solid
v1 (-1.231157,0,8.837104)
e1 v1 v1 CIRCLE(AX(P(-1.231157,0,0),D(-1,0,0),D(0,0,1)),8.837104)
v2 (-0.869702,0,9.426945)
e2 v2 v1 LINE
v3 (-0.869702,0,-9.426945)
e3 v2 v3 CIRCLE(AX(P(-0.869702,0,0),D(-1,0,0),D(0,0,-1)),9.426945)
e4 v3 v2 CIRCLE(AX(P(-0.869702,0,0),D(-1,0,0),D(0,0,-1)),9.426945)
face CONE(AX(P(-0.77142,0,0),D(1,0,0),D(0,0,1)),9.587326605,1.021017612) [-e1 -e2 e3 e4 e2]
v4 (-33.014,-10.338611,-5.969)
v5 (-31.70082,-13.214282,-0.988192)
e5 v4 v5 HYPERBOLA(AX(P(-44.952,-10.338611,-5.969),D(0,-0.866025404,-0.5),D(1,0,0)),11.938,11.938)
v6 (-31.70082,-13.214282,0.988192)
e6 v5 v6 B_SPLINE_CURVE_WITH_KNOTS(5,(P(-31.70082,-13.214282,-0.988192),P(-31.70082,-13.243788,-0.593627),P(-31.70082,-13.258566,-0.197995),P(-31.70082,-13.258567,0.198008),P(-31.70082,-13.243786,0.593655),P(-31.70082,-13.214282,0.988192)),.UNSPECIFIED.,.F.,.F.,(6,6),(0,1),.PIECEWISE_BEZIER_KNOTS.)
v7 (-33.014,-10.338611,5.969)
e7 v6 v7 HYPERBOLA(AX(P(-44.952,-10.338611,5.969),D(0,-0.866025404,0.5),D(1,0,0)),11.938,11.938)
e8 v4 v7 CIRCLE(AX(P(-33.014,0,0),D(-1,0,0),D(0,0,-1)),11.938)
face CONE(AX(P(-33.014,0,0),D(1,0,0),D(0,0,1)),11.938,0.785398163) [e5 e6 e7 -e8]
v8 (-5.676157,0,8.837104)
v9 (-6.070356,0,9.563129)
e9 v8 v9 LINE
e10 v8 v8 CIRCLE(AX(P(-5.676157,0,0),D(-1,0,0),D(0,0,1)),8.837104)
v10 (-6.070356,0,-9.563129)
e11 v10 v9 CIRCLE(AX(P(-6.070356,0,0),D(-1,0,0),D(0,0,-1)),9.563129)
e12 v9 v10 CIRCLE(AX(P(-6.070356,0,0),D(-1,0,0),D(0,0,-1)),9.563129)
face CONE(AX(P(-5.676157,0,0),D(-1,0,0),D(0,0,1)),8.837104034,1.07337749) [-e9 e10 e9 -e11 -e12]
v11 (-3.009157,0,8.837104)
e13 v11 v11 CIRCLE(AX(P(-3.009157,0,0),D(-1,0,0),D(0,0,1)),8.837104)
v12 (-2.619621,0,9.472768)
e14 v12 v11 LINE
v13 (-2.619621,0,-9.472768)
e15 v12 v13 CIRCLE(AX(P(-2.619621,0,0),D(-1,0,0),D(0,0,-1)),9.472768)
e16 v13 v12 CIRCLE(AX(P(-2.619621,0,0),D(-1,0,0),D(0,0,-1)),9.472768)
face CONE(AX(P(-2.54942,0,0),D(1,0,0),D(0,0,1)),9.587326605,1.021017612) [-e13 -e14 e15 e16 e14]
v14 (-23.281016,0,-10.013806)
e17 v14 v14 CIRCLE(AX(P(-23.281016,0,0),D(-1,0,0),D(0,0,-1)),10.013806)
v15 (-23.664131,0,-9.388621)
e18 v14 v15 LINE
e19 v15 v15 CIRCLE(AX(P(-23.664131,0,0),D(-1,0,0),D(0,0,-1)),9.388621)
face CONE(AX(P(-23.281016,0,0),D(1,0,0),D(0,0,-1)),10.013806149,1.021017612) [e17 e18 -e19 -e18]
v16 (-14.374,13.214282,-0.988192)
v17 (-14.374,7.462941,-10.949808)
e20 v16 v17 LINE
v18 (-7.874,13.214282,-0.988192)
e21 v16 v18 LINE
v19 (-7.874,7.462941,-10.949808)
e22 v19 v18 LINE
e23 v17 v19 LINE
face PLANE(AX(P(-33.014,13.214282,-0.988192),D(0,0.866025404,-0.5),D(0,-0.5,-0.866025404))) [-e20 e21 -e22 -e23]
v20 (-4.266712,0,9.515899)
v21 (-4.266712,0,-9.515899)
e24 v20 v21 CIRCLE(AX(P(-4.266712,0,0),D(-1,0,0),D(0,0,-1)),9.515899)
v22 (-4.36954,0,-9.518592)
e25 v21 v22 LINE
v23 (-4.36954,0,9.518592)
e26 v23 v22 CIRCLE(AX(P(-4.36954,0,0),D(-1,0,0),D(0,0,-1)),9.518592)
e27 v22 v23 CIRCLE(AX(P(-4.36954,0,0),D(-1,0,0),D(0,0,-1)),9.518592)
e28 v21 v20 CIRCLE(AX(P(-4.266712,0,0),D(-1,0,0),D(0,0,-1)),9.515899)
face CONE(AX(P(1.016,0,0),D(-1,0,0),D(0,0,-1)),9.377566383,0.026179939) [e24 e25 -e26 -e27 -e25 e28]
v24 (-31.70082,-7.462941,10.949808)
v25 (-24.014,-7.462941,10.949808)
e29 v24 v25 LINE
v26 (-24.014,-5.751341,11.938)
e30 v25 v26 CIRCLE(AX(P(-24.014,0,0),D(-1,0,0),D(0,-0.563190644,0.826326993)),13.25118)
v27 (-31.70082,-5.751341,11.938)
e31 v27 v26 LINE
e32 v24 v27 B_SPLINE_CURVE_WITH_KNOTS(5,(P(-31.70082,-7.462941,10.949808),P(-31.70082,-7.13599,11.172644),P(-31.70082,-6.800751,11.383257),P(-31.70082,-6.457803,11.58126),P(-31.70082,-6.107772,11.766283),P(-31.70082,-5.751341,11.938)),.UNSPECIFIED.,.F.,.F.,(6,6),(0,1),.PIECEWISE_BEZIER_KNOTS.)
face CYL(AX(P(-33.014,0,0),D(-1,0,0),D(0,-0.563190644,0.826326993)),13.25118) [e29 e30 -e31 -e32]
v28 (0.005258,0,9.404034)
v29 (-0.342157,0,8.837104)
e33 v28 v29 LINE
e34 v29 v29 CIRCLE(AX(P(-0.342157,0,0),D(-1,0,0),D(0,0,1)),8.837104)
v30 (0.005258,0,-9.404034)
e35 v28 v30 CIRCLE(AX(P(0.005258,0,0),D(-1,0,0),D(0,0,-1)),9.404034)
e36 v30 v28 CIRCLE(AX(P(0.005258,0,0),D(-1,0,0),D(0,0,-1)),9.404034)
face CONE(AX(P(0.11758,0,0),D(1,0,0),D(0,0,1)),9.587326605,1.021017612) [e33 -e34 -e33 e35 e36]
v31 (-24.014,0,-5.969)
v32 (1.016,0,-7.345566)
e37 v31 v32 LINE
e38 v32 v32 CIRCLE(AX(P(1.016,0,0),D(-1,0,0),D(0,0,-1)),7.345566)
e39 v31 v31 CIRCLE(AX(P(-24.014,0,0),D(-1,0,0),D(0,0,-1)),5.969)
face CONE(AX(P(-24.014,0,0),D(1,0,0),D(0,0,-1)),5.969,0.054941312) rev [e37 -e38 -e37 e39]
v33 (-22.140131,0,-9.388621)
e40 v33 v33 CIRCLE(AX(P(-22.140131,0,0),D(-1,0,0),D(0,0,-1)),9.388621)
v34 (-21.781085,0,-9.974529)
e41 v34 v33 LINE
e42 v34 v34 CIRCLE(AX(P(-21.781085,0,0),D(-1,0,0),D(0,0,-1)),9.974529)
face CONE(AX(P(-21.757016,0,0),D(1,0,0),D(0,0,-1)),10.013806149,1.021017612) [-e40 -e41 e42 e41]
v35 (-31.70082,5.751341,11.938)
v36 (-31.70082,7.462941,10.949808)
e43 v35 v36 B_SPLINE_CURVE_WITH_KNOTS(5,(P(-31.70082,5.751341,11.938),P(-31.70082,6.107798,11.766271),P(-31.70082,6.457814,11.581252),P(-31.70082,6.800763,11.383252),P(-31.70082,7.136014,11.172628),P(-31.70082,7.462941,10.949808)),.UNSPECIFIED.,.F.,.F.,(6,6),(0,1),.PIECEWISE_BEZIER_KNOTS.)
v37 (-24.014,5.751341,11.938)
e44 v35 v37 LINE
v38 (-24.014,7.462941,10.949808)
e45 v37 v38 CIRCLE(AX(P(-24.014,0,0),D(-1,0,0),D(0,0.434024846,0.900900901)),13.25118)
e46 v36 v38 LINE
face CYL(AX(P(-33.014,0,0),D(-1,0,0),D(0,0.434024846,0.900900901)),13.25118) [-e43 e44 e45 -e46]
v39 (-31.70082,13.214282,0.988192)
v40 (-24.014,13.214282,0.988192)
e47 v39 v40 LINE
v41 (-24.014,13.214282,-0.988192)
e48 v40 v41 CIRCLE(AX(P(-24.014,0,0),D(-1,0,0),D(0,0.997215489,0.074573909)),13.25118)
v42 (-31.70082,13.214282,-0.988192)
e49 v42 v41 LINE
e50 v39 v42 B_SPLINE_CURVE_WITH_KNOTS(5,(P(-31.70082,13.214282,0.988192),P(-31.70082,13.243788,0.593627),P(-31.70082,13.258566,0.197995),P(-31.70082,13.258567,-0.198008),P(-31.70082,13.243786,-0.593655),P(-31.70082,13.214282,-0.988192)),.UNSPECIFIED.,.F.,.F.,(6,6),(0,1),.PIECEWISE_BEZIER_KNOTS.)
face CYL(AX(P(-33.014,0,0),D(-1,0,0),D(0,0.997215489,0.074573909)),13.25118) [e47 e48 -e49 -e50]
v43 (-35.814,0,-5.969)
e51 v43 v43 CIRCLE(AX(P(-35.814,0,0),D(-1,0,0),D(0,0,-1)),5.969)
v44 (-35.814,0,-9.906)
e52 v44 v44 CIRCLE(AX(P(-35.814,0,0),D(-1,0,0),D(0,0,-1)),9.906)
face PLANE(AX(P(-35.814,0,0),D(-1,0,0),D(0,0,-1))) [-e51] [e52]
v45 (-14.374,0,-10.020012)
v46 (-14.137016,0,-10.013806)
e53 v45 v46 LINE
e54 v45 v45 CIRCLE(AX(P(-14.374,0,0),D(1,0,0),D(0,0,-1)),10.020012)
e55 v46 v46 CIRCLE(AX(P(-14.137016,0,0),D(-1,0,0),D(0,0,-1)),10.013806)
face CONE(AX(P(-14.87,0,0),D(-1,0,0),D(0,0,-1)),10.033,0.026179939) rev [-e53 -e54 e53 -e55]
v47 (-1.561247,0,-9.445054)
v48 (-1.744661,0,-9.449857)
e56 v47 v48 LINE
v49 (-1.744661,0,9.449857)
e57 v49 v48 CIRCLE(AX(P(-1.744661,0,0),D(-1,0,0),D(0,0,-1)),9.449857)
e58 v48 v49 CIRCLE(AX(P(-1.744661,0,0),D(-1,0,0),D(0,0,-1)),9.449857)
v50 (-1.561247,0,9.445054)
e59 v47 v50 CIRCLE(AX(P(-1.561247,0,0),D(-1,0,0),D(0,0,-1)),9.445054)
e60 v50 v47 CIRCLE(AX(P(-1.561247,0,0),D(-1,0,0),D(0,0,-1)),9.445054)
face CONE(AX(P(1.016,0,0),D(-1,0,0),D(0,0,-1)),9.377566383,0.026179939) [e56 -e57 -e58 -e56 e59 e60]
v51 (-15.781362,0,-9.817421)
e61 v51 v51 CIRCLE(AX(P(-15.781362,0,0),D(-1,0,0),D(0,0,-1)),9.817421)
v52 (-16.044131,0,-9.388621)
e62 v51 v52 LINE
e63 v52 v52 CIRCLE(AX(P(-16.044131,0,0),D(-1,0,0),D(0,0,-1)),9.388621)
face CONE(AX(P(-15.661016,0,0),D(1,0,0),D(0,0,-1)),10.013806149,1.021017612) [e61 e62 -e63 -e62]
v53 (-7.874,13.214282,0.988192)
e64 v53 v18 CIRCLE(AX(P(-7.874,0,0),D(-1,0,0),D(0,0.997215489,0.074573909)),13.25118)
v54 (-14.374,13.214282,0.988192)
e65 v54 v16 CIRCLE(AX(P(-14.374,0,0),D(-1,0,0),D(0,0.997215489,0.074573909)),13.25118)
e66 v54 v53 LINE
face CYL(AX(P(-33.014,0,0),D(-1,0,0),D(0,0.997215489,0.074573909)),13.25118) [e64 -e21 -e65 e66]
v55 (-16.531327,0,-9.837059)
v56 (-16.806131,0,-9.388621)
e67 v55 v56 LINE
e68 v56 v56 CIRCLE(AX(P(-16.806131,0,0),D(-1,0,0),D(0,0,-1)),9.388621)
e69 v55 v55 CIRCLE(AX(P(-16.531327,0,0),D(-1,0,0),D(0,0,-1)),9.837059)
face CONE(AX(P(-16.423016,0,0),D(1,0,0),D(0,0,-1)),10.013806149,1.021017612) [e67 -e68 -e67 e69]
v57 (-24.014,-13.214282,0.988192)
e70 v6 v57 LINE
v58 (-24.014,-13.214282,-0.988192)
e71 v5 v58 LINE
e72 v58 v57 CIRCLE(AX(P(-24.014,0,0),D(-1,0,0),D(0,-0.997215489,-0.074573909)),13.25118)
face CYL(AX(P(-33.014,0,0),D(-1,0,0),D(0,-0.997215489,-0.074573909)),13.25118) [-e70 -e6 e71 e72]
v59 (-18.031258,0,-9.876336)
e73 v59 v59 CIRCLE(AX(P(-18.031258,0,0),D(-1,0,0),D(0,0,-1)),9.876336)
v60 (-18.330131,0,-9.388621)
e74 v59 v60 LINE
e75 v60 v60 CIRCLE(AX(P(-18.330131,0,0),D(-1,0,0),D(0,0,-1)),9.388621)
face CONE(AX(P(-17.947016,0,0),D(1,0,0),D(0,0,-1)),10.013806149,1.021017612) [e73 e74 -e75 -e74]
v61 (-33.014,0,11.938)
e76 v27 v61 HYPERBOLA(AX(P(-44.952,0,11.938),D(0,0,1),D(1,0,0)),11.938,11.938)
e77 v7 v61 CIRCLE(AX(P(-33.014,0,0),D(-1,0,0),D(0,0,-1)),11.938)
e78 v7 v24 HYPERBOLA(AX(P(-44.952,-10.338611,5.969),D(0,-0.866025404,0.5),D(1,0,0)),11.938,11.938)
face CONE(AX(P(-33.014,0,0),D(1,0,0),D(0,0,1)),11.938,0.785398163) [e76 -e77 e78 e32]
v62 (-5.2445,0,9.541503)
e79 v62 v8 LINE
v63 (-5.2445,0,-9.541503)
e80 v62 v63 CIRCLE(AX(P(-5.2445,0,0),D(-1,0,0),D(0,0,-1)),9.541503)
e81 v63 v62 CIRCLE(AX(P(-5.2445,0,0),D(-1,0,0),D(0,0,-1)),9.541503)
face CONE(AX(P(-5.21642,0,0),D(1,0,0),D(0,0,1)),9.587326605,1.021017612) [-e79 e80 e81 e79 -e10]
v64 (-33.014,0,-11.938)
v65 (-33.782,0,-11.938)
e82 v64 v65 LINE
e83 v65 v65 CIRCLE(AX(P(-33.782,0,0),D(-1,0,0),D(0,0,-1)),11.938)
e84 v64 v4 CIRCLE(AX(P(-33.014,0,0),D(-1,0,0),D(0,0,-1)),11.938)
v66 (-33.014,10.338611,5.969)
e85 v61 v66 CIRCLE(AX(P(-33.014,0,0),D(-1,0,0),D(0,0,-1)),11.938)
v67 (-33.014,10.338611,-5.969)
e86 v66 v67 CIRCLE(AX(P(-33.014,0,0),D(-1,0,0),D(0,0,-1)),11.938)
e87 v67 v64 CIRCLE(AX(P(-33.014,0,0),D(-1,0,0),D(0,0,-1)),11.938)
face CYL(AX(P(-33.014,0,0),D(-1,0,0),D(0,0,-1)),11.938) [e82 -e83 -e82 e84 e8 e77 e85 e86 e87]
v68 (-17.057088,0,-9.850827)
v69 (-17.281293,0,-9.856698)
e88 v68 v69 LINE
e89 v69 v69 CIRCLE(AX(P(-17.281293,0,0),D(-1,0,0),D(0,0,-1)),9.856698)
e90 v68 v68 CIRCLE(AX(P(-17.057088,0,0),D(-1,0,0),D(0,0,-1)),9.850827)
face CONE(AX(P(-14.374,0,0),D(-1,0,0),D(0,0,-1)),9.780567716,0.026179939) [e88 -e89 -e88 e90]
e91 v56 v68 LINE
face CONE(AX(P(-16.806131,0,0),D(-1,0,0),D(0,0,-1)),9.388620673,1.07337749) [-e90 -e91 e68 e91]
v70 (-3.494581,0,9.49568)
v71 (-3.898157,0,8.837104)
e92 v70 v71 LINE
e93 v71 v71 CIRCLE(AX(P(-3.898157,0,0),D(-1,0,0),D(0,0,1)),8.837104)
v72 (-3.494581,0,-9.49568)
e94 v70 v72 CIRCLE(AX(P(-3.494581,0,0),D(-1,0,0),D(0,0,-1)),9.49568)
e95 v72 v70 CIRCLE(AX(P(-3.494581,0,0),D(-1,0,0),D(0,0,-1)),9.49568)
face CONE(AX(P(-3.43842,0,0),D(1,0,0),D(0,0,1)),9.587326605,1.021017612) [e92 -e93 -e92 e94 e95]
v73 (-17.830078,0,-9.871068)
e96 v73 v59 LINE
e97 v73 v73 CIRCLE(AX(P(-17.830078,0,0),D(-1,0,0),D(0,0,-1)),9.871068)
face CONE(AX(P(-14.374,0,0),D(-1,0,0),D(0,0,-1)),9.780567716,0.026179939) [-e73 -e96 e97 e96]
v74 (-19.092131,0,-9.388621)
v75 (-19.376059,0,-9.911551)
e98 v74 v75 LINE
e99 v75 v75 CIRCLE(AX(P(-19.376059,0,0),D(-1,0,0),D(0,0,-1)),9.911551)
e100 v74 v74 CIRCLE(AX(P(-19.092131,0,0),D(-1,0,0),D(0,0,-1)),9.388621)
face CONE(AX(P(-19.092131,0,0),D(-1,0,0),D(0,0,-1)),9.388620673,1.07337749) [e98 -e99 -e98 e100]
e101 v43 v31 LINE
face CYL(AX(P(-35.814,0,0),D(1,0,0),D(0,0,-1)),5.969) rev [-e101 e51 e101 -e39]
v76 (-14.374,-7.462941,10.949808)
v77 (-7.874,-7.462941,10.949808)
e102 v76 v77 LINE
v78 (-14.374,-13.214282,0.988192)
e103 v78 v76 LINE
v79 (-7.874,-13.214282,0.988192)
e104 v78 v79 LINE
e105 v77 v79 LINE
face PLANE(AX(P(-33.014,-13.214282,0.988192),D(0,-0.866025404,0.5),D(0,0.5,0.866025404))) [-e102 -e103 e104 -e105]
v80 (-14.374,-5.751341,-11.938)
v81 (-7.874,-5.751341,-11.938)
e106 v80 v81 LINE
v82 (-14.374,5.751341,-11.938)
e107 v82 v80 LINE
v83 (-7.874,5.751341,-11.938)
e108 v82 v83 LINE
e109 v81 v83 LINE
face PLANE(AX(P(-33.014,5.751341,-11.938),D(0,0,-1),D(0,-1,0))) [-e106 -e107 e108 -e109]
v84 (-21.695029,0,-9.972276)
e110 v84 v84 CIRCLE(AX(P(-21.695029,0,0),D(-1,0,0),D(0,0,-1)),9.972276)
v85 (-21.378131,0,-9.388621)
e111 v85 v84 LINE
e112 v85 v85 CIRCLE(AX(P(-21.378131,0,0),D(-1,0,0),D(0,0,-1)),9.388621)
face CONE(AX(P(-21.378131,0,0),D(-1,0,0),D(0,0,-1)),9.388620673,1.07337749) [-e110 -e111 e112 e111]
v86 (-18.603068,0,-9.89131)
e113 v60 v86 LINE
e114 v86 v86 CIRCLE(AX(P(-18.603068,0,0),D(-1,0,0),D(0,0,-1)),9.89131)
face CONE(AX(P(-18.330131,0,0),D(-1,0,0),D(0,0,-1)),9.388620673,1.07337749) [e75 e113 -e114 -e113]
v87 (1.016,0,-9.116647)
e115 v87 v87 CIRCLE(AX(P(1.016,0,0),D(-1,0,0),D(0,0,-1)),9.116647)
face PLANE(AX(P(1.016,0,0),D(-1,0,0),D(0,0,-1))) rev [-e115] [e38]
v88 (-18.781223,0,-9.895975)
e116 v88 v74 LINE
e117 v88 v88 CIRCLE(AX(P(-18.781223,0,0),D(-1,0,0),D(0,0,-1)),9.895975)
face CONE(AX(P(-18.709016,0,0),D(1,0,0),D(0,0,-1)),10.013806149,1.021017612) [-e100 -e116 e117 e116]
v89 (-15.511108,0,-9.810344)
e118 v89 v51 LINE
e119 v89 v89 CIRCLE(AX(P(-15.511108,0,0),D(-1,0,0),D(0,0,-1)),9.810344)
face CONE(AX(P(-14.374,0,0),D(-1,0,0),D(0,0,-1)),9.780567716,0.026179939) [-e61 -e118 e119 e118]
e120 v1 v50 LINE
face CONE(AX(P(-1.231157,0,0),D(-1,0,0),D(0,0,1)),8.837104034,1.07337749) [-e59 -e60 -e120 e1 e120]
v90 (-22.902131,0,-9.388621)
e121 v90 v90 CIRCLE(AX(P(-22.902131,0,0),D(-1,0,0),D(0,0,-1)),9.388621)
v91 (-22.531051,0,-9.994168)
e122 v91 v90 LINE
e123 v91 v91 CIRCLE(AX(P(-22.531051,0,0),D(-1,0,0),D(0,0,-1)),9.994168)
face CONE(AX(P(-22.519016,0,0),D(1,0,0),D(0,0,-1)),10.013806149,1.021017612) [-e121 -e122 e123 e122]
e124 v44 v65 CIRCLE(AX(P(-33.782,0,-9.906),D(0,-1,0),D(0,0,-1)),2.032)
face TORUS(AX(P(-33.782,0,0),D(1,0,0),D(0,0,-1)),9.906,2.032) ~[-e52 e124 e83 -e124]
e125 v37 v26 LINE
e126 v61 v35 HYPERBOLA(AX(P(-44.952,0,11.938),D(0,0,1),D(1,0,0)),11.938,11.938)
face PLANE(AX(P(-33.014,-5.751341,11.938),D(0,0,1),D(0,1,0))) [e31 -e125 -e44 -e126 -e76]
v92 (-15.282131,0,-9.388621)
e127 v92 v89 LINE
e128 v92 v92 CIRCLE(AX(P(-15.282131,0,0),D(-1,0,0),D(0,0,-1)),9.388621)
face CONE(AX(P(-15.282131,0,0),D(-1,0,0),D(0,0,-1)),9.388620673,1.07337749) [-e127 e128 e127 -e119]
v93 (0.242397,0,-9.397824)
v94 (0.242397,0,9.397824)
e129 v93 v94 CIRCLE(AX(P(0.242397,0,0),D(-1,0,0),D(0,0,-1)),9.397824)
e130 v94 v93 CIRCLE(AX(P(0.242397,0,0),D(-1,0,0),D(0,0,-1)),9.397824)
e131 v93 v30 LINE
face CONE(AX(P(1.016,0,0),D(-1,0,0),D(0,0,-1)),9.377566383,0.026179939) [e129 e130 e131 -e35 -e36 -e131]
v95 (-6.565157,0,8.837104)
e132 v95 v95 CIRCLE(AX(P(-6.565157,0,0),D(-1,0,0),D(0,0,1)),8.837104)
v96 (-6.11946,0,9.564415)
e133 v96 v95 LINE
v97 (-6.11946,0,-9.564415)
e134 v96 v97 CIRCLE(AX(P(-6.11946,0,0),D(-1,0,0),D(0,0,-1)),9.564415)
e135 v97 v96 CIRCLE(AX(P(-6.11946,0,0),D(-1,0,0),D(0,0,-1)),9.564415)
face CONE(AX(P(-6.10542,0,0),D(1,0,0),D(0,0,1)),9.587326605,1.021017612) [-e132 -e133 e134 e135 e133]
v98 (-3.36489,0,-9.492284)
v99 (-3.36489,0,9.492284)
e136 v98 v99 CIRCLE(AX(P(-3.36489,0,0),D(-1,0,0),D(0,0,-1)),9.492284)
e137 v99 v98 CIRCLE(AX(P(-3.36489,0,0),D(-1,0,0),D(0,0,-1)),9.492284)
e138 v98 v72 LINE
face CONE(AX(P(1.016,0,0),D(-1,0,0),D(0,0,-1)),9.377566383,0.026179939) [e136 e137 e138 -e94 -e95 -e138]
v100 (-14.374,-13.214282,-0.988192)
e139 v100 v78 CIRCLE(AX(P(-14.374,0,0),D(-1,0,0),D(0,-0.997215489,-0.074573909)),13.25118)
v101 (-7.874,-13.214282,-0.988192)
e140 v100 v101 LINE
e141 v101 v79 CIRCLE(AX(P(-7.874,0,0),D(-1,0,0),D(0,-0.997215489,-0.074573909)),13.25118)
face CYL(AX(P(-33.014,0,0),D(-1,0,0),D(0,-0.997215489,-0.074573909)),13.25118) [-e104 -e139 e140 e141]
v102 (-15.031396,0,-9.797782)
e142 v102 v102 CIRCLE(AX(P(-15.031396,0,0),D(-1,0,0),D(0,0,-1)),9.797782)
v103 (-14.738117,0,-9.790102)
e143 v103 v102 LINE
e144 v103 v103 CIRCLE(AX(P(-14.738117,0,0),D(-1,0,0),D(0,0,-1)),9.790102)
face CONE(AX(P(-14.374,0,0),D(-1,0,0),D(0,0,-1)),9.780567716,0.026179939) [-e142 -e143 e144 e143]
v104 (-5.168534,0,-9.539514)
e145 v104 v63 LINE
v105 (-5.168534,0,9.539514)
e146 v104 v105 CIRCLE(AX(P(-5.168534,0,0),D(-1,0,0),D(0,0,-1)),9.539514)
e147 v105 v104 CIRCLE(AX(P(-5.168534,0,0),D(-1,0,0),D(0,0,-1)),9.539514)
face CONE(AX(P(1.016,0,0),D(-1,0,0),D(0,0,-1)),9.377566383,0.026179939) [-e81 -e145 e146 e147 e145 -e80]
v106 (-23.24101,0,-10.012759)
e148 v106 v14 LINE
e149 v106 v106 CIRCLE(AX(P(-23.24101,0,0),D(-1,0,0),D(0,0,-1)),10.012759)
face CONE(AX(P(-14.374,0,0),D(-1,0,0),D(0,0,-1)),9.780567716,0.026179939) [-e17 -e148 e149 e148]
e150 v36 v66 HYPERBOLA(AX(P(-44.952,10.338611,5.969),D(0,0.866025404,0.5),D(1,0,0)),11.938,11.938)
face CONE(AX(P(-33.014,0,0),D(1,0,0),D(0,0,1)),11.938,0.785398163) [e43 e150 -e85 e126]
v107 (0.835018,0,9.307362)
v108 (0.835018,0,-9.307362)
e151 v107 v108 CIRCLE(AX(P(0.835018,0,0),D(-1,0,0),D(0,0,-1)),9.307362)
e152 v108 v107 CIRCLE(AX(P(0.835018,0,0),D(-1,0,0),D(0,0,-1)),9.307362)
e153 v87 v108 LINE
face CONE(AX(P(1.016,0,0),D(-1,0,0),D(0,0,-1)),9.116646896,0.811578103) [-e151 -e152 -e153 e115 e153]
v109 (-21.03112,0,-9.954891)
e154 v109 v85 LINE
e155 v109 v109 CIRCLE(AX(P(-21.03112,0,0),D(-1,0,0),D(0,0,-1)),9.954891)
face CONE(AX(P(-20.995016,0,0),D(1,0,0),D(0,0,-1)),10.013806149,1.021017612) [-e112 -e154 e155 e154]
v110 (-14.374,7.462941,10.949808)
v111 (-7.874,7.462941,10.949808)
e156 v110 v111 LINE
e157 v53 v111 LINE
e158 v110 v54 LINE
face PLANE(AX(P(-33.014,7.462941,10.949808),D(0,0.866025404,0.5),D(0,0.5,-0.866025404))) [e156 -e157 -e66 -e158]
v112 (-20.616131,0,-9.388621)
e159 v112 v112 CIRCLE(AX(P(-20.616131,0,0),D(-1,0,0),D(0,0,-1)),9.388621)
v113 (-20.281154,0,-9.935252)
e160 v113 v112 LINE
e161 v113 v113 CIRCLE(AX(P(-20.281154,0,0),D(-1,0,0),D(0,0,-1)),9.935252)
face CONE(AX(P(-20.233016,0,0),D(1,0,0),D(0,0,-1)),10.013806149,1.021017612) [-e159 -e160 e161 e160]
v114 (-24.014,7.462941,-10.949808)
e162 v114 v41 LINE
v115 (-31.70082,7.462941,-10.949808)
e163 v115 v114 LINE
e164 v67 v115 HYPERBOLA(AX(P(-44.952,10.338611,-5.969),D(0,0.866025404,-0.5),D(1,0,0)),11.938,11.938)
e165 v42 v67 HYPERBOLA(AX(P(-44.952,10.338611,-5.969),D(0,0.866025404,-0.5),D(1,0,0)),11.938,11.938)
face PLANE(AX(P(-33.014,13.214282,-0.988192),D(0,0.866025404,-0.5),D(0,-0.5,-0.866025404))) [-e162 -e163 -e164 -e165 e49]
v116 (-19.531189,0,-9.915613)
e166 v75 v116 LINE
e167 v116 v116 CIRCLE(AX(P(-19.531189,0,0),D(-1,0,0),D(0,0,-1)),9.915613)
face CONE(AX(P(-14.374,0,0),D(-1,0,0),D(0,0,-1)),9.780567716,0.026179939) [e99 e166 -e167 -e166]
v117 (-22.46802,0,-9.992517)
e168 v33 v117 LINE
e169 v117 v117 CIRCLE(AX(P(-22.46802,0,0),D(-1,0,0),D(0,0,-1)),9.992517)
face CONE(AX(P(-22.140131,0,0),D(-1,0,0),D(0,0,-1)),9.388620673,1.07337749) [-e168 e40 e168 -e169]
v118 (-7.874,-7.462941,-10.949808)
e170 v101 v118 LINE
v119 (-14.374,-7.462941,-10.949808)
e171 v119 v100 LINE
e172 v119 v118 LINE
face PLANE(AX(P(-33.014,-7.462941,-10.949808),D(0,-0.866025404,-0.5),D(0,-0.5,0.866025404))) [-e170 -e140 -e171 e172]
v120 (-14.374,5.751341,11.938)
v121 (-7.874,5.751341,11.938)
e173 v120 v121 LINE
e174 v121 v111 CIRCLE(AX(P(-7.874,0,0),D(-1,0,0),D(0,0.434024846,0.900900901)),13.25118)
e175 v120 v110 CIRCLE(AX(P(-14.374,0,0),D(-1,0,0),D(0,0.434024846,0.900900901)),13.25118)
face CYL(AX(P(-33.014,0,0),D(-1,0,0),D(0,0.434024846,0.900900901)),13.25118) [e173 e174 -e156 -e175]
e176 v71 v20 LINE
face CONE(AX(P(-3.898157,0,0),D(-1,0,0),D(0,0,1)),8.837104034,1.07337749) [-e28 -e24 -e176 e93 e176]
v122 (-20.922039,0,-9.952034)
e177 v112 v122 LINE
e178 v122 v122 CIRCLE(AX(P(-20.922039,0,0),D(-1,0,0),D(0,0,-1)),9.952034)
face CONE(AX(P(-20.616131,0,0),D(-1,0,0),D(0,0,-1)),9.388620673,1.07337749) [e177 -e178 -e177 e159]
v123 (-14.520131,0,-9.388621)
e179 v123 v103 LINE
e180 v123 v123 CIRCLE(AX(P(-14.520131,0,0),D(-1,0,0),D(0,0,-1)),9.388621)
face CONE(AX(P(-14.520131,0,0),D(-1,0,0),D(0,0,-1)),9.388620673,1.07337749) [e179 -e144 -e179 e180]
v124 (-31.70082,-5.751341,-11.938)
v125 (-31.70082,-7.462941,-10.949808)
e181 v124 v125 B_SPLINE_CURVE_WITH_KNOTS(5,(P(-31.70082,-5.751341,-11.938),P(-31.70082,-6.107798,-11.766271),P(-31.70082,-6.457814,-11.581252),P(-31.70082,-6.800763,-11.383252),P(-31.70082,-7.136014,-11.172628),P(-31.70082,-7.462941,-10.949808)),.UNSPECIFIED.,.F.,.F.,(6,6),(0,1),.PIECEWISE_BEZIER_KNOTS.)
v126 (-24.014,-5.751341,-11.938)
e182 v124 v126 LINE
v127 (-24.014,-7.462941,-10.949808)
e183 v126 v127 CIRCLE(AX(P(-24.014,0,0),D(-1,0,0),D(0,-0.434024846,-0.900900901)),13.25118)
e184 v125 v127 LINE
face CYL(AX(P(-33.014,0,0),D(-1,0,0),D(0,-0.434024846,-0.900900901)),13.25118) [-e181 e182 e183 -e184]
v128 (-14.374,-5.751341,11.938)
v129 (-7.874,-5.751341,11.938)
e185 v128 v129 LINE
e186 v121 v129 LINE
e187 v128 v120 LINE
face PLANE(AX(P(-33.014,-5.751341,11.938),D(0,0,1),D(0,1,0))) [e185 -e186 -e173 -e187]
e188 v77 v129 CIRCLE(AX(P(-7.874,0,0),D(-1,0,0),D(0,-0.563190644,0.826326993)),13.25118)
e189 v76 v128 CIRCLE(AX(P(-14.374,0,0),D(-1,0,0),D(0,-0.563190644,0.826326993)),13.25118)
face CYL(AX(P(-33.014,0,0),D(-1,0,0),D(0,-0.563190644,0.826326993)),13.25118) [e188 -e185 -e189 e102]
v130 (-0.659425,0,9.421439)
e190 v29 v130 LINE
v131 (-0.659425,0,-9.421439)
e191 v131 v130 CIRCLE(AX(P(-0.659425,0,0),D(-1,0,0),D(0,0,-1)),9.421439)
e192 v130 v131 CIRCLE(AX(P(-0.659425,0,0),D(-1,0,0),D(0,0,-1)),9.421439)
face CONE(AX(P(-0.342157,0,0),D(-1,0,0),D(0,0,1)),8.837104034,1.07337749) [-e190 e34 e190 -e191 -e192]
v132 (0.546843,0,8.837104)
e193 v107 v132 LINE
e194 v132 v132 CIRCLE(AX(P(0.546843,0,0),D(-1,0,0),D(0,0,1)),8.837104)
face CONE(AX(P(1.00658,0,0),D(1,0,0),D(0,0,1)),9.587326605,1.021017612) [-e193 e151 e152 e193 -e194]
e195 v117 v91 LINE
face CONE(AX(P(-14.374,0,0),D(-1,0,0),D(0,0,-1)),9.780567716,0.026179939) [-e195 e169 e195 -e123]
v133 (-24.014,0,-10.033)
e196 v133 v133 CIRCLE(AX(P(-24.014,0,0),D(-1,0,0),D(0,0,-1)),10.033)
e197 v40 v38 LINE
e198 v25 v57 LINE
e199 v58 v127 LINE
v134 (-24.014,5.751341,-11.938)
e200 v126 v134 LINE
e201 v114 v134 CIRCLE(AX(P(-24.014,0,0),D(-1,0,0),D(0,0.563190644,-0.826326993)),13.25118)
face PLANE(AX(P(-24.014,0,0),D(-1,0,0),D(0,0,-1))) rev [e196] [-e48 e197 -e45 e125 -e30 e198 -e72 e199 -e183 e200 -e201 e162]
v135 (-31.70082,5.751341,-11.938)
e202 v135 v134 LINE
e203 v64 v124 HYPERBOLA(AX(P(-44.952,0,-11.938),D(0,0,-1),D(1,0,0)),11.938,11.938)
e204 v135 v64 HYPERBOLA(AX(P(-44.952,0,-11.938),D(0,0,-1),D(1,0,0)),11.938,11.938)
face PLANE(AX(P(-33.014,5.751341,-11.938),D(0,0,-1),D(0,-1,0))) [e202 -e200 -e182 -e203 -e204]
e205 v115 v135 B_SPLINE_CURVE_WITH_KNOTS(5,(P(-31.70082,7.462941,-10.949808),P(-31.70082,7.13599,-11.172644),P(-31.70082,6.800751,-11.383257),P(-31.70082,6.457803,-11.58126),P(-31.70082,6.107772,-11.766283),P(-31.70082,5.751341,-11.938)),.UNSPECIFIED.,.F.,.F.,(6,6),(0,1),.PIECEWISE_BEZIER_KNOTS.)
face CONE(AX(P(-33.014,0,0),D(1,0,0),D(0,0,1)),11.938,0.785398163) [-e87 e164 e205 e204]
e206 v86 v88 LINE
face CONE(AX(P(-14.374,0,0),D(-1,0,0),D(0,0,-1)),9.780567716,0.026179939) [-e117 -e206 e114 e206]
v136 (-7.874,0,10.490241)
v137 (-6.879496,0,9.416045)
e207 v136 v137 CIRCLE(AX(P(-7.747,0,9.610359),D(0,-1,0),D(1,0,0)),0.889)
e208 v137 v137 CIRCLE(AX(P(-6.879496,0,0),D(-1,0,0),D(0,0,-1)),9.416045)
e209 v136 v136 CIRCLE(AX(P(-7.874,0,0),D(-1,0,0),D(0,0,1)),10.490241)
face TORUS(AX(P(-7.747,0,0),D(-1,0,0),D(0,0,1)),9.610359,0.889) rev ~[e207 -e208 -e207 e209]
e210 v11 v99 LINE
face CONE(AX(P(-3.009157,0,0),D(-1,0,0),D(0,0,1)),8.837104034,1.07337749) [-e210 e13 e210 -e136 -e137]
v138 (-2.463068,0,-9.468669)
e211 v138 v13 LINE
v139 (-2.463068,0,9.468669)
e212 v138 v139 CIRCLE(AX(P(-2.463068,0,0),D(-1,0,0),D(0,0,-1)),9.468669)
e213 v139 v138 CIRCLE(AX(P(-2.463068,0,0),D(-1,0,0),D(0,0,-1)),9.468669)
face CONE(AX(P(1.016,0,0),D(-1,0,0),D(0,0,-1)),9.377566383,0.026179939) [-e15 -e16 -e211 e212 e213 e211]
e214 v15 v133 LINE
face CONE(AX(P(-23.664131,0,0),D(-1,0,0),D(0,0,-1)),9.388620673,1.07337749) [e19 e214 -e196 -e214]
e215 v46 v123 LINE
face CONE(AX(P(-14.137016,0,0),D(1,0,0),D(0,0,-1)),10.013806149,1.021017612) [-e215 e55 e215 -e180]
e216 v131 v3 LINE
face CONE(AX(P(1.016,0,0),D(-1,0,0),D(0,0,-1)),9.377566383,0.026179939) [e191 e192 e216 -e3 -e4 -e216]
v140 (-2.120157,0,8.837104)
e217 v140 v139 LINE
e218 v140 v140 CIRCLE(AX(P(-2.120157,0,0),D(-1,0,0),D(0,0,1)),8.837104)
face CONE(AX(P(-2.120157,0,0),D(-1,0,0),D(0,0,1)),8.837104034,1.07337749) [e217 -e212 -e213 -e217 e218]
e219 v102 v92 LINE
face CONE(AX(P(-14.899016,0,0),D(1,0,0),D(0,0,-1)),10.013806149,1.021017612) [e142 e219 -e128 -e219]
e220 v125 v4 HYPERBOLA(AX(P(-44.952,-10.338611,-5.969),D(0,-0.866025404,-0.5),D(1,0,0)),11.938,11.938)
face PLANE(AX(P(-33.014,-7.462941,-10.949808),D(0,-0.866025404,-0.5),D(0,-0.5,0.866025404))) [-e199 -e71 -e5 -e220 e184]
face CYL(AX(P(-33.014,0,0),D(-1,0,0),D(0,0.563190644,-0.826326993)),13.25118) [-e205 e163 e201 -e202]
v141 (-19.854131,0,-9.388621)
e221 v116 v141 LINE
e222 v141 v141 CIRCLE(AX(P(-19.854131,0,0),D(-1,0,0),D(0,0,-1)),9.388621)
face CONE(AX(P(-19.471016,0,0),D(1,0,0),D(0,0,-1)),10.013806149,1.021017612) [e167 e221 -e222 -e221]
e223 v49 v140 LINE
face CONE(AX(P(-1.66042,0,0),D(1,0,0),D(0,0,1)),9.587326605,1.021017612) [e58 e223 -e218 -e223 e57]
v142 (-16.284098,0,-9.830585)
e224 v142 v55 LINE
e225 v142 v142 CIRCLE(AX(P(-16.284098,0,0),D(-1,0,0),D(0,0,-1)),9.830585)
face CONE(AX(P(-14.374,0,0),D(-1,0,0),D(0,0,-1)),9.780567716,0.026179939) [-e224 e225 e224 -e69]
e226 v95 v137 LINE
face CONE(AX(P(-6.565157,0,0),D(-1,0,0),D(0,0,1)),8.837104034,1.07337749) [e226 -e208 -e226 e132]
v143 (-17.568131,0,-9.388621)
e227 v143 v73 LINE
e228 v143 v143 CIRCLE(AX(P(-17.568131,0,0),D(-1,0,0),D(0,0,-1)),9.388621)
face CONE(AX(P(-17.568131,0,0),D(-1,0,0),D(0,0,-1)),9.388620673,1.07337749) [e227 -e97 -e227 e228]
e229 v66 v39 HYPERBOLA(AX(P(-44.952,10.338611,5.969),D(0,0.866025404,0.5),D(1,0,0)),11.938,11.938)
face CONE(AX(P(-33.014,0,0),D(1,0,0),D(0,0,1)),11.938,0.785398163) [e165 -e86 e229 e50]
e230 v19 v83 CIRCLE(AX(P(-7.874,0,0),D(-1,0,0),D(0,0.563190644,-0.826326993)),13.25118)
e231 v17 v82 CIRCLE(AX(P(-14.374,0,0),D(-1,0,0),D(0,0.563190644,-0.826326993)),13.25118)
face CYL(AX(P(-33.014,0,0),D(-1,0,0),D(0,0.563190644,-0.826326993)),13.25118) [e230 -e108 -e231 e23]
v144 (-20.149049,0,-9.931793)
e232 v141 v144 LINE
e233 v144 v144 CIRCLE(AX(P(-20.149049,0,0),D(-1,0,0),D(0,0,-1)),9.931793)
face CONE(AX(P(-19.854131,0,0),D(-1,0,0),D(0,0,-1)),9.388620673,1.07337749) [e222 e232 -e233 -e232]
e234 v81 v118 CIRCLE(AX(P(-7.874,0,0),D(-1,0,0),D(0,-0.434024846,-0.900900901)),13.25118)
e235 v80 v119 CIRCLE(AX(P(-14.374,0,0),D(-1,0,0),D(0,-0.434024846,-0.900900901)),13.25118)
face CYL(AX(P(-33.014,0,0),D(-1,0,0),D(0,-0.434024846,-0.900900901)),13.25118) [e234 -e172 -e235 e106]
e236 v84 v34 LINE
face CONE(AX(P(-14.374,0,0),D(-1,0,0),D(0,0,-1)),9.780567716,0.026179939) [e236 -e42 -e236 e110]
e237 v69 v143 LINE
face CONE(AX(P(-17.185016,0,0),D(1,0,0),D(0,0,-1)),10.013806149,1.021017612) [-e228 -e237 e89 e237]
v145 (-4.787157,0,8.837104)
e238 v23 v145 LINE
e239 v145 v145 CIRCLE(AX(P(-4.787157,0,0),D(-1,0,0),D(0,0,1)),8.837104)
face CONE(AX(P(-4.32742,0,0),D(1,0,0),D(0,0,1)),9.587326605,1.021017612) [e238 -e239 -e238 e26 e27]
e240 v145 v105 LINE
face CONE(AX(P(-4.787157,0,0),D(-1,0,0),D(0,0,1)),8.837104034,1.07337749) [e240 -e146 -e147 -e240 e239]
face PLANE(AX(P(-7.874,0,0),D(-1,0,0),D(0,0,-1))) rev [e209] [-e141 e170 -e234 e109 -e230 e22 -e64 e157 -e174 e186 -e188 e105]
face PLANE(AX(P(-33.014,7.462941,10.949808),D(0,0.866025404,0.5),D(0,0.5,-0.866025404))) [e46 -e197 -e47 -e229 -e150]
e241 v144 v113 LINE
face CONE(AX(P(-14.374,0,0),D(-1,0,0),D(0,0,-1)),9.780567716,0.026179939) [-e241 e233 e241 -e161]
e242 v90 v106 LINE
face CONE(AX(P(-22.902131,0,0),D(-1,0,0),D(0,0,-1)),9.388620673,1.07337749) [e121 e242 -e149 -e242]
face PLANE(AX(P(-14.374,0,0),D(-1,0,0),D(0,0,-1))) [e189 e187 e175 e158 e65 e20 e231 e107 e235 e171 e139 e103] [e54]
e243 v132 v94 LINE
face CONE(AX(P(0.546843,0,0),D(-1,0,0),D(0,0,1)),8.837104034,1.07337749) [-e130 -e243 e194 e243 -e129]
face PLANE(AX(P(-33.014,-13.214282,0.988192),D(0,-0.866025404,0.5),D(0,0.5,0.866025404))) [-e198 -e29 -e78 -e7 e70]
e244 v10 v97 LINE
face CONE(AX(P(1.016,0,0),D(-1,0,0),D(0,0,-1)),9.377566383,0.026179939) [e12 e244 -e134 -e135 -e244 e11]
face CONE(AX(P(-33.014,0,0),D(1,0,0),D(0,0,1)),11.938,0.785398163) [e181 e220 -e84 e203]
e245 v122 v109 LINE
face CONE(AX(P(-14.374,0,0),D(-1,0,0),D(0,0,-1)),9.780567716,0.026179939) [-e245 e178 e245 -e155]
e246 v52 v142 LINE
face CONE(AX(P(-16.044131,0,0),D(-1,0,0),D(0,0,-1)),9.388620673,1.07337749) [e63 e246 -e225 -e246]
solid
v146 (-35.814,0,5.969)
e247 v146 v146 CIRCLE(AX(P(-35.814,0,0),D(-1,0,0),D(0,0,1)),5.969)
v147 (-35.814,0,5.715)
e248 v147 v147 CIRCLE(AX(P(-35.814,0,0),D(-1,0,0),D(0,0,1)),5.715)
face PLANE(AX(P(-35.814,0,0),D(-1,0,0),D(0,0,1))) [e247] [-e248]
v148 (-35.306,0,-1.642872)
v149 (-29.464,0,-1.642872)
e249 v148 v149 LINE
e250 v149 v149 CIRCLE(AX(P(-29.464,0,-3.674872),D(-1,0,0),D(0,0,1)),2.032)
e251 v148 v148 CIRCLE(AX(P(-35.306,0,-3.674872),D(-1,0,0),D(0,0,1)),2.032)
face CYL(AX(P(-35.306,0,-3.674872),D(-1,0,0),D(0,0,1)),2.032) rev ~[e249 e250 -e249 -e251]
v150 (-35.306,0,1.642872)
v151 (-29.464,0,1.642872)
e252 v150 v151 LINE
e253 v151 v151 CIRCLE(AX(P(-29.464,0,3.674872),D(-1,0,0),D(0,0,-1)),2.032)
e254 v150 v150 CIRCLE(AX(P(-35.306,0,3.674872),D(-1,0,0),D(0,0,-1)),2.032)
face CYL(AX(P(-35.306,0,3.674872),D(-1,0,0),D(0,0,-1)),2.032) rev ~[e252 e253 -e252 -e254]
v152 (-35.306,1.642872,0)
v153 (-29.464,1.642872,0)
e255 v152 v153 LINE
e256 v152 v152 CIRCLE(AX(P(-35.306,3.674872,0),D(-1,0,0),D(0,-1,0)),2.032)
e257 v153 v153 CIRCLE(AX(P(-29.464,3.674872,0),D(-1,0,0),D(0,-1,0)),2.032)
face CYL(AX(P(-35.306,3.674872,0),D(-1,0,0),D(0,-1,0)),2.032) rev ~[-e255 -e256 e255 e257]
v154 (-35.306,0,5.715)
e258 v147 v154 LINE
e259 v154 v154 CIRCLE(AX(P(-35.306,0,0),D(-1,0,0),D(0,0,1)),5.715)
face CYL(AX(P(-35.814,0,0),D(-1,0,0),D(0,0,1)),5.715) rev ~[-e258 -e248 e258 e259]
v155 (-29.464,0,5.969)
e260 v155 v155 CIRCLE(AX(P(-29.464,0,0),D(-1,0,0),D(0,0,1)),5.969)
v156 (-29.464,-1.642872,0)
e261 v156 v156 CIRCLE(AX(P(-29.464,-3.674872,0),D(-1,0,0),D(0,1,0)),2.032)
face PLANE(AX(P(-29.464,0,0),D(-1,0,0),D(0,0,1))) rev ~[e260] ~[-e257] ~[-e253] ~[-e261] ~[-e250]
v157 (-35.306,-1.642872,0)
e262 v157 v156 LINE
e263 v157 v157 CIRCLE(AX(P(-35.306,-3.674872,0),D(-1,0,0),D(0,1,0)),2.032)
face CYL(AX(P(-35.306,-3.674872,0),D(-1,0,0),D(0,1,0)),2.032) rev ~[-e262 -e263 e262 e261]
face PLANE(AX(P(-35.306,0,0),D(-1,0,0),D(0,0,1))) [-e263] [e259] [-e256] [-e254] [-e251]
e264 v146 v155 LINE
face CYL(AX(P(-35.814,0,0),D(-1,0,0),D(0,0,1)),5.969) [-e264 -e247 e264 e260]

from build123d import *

# Parameters (mm, degrees)
SKETCH12_OUTSIDE_W = 65.136
SKETCH12_OUTSIDE_H = 65.136
CUT_EXTRUDE2_DEPTH = 35.03
FILLET4_R          = 2.032
SKETCH19_OUTSIDE_W = 40.13
SKETCH19_OUTSIDE_H = 42.756
SKETCH19_OUTSIDE_R = 11.938
CUT_EXTRUDE3_DEPTH = 1.999996
CUT_EXTRUDE3_DRAFT = -45
CHAMFER1_SIZE      = 0.260919487
CHAMFER1_SIZE2     = 0.254
SKETCH21_R         = 5.969
PLUG_DEPTH         = 6.35
SKETCH22_R         = 5.715
CUT_EXTRUDE4_DEPTH = 0.508
SKETCH27_R         = 2.032
PLUGHOLES_DEPTH    = 37.322
CIRPATTERN1_COUNT  = 4
LPATTERN1_COUNT    = 13
LPATTERN1_PITCH    = 0.762
LPATTERN2_COUNT    = 10
LPATTERN2_PITCH    = 0.889
SKETCH32_R         = 0.889


with BuildPart() as part:
    # Sketch10 → Revolve2 (revolve)
    with BuildSketch(Plane.XY, mode=Mode.PRIVATE) as revolve2_sk:
        Polygon((-35.814, 5.969), (-24.014, 5.969), (1.016, 7.345566383), (1.016, 9.377566383), (-7.874, 9.610359226), (-7.874, 23.876), (-14.374, 23.876), (-14.374, 9.780567716), (-24.014, 10.033), (-24.014, 23.876), (-33.014, 23.876), (-33.014, 11.938), (-35.814, 11.938), align=None)
    revolve(revolve2_sk.sketch.rotate(Axis((0, 0, 0), (-1, 0, 0)), 90), axis=Axis((0, 0, 0), (-1, 0, 0)))  # turned: the seam where the file's is

    # Sketch12 outside → Cut-Extrude2 (cut, through all)
    with BuildSketch(Plane.ZY.offset(33.014)):
        Rectangle(SKETCH12_OUTSIDE_W, SKETCH12_OUTSIDE_H)
        with BuildLine():
            Line((-0.98819228, 13.214281948), (-10.94980772, 7.462940592))
            ThreePointArc((-10.94980772, 7.462940592), (-11.47585851, 6.62559), (-11.938, 5.751341356))
            Line((-11.938, 5.751341356), (-11.938, -5.751341356))
            ThreePointArc((-11.938, -5.751341356), (-11.47585851, -6.62559), (-10.94980772, -7.462940592))
            Line((-10.94980772, -7.462940592), (-0.98819228, -13.214281948))
            ThreePointArc((-0.98819228, -13.214281948), (0, -13.25118), (0.98819228, -13.214281948))
            Line((0.98819228, -13.214281948), (10.94980772, -7.462940592))
            ThreePointArc((10.94980772, -7.462940592), (11.47585851, -6.62559), (11.938, -5.751341356))
            Line((11.938, -5.751341356), (11.938, 5.751341356))
            ThreePointArc((11.938, 5.751341356), (11.47585851, 6.62559), (10.94980772, 7.462940592))
            Line((10.94980772, 7.462940592), (0.98819228, 13.214281948))
            ThreePointArc((0.98819228, 13.214281948), (0, 13.25118), (-0.98819228, 13.214281948))
        make_face(mode=Mode.SUBTRACT)
    extrude(amount=-CUT_EXTRUDE2_DEPTH, mode=Mode.SUBTRACT)

    # Fillet4
    fillet4_edges = [part.edges().sort_by_distance(p)[0] for p in [
        (-35.814, 0, 11.938),
    ]]
    fillet(fillet4_edges, radius=FILLET4_R)


with BuildPart() as cut_extrude3_tool:
    # Sketch19 outside → Cut-Extrude3 (with draft: the straight prism first)
    with BuildSketch(Plane.ZY.offset(33.014)):
        Rectangle(SKETCH19_OUTSIDE_W, SKETCH19_OUTSIDE_H)
        Circle(SKETCH19_OUTSIDE_R, mode=Mode.SUBTRACT)
    extrude(amount=-CUT_EXTRUDE3_DEPTH)
    # Cut-Extrude3: the draft: its side faces are tilted about the plane it starts from
    cut_extrude3_sides = [cut_extrude3_tool.faces().sort_by_distance(p)[0] for p in [
        (-32.014002, -21.378, 0),
        (-32.014002, 0, 20.065),
        (-32.014002, 21.378, 0),
        (-32.014002, 0, -20.065),
        (-32.014002, 0, -11.938),
    ]]
    draft(cut_extrude3_sides, Plane.ZY.offset(33.014), CUT_EXTRUDE3_DRAFT)


with BuildPart() as part_1:
    add(part.part)

    # Cut-Extrude3: cut by cut_extrude3_tool
    add(cut_extrude3_tool.part, mode=Mode.SUBTRACT)

    # Chamfer1
    chamfer1_edges = [part_1.edges().sort_by_distance(p)[0] for p in [
        (1.016, 0, 9.377566383),
    ]]
    chamfer1_side = [part_1.faces().sort_by_distance(p)[0] for p in [
        (1.016, 0, 7.610804014),
    ]]
    chamfer(chamfer1_edges, length=CHAMFER1_SIZE, length2=CHAMFER1_SIZE2, reference=chamfer1_side[0])

    # Sketch29 → Cut-Revolve1 (revolve, cut)
    with BuildSketch(Plane.XY, mode=Mode.PRIVATE) as cut_revolve1_sk:
        Polygon((-24.014, 10.033), (-23.281016419, 10.013806149), (-23.664130572, 9.388620673), align=None)
    cut_revolve1 = revolve(cut_revolve1_sk.sketch.rotate(Axis((0, 0, 0), (-1, 0, 0)), 90), axis=Axis((0, 0, 0), (-1, 0, 0)), mode=Mode.SUBTRACT)  # turned: the seam where the file's is

    # LPattern1: Cut-Revolve1 ×13
    with Locations(*[(i * LPATTERN1_PITCH, 0, 0) for i in range(1, LPATTERN1_COUNT)]):
        add(cut_revolve1, mode=Mode.SUBTRACT)

    # Sketch30 → Cut-Revolve2 (revolve, cut)
    with BuildSketch(Plane.XY, mode=Mode.PRIVATE) as cut_revolve2_sk:
        Polygon((-7.874, 9.610359226), (-6.994419703, 9.587326605), (-7.454156686, 8.837104034), align=None)
    cut_revolve2 = revolve(cut_revolve2_sk.sketch.rotate(Axis((0, 0, 0), (-1, 0, 0)), 270), axis=Axis((0, 0, 0), (-1, 0, 0)), mode=Mode.SUBTRACT)  # turned: the seam where the file's is

    # LPattern2: Cut-Revolve2 ×10
    with Locations(*[(i * LPATTERN2_PITCH, 0, 0) for i in range(1, LPATTERN2_COUNT)]):
        add(cut_revolve2, mode=Mode.SUBTRACT)

    # Sketch32 → Cut-Revolve3 (revolve, cut)
    with BuildSketch(Plane.XY, mode=Mode.PRIVATE) as cut_revolve3_sk:
        with Locations((-7.747, 9.610359226)):
            Circle(SKETCH32_R)
    revolve(cut_revolve3_sk.sketch.rotate(Axis((0, 0, 0), (-1, 0, 0)), 270), axis=Axis((0, 0, 0), (-1, 0, 0)), mode=Mode.SUBTRACT)  # turned: the seam where the file's is


with BuildPart() as body_2:
    # Sketch21 → plug (new body)
    with BuildSketch(Plane.ZY.offset(35.814)):
        Circle(SKETCH21_R)
    extrude(amount=-PLUG_DEPTH)

    # Sketch22 → Cut-Extrude4 (cut)
    with BuildSketch(Plane.ZY.offset(35.814)):
        Circle(SKETCH22_R)
    extrude(amount=-CUT_EXTRUDE4_DEPTH, mode=Mode.SUBTRACT)

    # Sketch27 → plugholes (cut, through all)
    with BuildSketch(Plane.ZY.offset(35.306)):
        with Locations((-3.674872, 0)):
            Circle(SKETCH27_R)
    plugholes = extrude(amount=-PLUGHOLES_DEPTH, mode=Mode.SUBTRACT)

    # CirPattern1: plugholes ×4 about axis
    cirpattern1_axis = Axis((0, 0, 0), (1, 0, 0))
    for i in range(1, CIRPATTERN1_COUNT):
        add(plugholes.rotate(cirpattern1_axis, i * 360 / CIRPATTERN1_COUNT), mode=Mode.SUBTRACT)


solid = Compound([part_1.part, body_2.part])
